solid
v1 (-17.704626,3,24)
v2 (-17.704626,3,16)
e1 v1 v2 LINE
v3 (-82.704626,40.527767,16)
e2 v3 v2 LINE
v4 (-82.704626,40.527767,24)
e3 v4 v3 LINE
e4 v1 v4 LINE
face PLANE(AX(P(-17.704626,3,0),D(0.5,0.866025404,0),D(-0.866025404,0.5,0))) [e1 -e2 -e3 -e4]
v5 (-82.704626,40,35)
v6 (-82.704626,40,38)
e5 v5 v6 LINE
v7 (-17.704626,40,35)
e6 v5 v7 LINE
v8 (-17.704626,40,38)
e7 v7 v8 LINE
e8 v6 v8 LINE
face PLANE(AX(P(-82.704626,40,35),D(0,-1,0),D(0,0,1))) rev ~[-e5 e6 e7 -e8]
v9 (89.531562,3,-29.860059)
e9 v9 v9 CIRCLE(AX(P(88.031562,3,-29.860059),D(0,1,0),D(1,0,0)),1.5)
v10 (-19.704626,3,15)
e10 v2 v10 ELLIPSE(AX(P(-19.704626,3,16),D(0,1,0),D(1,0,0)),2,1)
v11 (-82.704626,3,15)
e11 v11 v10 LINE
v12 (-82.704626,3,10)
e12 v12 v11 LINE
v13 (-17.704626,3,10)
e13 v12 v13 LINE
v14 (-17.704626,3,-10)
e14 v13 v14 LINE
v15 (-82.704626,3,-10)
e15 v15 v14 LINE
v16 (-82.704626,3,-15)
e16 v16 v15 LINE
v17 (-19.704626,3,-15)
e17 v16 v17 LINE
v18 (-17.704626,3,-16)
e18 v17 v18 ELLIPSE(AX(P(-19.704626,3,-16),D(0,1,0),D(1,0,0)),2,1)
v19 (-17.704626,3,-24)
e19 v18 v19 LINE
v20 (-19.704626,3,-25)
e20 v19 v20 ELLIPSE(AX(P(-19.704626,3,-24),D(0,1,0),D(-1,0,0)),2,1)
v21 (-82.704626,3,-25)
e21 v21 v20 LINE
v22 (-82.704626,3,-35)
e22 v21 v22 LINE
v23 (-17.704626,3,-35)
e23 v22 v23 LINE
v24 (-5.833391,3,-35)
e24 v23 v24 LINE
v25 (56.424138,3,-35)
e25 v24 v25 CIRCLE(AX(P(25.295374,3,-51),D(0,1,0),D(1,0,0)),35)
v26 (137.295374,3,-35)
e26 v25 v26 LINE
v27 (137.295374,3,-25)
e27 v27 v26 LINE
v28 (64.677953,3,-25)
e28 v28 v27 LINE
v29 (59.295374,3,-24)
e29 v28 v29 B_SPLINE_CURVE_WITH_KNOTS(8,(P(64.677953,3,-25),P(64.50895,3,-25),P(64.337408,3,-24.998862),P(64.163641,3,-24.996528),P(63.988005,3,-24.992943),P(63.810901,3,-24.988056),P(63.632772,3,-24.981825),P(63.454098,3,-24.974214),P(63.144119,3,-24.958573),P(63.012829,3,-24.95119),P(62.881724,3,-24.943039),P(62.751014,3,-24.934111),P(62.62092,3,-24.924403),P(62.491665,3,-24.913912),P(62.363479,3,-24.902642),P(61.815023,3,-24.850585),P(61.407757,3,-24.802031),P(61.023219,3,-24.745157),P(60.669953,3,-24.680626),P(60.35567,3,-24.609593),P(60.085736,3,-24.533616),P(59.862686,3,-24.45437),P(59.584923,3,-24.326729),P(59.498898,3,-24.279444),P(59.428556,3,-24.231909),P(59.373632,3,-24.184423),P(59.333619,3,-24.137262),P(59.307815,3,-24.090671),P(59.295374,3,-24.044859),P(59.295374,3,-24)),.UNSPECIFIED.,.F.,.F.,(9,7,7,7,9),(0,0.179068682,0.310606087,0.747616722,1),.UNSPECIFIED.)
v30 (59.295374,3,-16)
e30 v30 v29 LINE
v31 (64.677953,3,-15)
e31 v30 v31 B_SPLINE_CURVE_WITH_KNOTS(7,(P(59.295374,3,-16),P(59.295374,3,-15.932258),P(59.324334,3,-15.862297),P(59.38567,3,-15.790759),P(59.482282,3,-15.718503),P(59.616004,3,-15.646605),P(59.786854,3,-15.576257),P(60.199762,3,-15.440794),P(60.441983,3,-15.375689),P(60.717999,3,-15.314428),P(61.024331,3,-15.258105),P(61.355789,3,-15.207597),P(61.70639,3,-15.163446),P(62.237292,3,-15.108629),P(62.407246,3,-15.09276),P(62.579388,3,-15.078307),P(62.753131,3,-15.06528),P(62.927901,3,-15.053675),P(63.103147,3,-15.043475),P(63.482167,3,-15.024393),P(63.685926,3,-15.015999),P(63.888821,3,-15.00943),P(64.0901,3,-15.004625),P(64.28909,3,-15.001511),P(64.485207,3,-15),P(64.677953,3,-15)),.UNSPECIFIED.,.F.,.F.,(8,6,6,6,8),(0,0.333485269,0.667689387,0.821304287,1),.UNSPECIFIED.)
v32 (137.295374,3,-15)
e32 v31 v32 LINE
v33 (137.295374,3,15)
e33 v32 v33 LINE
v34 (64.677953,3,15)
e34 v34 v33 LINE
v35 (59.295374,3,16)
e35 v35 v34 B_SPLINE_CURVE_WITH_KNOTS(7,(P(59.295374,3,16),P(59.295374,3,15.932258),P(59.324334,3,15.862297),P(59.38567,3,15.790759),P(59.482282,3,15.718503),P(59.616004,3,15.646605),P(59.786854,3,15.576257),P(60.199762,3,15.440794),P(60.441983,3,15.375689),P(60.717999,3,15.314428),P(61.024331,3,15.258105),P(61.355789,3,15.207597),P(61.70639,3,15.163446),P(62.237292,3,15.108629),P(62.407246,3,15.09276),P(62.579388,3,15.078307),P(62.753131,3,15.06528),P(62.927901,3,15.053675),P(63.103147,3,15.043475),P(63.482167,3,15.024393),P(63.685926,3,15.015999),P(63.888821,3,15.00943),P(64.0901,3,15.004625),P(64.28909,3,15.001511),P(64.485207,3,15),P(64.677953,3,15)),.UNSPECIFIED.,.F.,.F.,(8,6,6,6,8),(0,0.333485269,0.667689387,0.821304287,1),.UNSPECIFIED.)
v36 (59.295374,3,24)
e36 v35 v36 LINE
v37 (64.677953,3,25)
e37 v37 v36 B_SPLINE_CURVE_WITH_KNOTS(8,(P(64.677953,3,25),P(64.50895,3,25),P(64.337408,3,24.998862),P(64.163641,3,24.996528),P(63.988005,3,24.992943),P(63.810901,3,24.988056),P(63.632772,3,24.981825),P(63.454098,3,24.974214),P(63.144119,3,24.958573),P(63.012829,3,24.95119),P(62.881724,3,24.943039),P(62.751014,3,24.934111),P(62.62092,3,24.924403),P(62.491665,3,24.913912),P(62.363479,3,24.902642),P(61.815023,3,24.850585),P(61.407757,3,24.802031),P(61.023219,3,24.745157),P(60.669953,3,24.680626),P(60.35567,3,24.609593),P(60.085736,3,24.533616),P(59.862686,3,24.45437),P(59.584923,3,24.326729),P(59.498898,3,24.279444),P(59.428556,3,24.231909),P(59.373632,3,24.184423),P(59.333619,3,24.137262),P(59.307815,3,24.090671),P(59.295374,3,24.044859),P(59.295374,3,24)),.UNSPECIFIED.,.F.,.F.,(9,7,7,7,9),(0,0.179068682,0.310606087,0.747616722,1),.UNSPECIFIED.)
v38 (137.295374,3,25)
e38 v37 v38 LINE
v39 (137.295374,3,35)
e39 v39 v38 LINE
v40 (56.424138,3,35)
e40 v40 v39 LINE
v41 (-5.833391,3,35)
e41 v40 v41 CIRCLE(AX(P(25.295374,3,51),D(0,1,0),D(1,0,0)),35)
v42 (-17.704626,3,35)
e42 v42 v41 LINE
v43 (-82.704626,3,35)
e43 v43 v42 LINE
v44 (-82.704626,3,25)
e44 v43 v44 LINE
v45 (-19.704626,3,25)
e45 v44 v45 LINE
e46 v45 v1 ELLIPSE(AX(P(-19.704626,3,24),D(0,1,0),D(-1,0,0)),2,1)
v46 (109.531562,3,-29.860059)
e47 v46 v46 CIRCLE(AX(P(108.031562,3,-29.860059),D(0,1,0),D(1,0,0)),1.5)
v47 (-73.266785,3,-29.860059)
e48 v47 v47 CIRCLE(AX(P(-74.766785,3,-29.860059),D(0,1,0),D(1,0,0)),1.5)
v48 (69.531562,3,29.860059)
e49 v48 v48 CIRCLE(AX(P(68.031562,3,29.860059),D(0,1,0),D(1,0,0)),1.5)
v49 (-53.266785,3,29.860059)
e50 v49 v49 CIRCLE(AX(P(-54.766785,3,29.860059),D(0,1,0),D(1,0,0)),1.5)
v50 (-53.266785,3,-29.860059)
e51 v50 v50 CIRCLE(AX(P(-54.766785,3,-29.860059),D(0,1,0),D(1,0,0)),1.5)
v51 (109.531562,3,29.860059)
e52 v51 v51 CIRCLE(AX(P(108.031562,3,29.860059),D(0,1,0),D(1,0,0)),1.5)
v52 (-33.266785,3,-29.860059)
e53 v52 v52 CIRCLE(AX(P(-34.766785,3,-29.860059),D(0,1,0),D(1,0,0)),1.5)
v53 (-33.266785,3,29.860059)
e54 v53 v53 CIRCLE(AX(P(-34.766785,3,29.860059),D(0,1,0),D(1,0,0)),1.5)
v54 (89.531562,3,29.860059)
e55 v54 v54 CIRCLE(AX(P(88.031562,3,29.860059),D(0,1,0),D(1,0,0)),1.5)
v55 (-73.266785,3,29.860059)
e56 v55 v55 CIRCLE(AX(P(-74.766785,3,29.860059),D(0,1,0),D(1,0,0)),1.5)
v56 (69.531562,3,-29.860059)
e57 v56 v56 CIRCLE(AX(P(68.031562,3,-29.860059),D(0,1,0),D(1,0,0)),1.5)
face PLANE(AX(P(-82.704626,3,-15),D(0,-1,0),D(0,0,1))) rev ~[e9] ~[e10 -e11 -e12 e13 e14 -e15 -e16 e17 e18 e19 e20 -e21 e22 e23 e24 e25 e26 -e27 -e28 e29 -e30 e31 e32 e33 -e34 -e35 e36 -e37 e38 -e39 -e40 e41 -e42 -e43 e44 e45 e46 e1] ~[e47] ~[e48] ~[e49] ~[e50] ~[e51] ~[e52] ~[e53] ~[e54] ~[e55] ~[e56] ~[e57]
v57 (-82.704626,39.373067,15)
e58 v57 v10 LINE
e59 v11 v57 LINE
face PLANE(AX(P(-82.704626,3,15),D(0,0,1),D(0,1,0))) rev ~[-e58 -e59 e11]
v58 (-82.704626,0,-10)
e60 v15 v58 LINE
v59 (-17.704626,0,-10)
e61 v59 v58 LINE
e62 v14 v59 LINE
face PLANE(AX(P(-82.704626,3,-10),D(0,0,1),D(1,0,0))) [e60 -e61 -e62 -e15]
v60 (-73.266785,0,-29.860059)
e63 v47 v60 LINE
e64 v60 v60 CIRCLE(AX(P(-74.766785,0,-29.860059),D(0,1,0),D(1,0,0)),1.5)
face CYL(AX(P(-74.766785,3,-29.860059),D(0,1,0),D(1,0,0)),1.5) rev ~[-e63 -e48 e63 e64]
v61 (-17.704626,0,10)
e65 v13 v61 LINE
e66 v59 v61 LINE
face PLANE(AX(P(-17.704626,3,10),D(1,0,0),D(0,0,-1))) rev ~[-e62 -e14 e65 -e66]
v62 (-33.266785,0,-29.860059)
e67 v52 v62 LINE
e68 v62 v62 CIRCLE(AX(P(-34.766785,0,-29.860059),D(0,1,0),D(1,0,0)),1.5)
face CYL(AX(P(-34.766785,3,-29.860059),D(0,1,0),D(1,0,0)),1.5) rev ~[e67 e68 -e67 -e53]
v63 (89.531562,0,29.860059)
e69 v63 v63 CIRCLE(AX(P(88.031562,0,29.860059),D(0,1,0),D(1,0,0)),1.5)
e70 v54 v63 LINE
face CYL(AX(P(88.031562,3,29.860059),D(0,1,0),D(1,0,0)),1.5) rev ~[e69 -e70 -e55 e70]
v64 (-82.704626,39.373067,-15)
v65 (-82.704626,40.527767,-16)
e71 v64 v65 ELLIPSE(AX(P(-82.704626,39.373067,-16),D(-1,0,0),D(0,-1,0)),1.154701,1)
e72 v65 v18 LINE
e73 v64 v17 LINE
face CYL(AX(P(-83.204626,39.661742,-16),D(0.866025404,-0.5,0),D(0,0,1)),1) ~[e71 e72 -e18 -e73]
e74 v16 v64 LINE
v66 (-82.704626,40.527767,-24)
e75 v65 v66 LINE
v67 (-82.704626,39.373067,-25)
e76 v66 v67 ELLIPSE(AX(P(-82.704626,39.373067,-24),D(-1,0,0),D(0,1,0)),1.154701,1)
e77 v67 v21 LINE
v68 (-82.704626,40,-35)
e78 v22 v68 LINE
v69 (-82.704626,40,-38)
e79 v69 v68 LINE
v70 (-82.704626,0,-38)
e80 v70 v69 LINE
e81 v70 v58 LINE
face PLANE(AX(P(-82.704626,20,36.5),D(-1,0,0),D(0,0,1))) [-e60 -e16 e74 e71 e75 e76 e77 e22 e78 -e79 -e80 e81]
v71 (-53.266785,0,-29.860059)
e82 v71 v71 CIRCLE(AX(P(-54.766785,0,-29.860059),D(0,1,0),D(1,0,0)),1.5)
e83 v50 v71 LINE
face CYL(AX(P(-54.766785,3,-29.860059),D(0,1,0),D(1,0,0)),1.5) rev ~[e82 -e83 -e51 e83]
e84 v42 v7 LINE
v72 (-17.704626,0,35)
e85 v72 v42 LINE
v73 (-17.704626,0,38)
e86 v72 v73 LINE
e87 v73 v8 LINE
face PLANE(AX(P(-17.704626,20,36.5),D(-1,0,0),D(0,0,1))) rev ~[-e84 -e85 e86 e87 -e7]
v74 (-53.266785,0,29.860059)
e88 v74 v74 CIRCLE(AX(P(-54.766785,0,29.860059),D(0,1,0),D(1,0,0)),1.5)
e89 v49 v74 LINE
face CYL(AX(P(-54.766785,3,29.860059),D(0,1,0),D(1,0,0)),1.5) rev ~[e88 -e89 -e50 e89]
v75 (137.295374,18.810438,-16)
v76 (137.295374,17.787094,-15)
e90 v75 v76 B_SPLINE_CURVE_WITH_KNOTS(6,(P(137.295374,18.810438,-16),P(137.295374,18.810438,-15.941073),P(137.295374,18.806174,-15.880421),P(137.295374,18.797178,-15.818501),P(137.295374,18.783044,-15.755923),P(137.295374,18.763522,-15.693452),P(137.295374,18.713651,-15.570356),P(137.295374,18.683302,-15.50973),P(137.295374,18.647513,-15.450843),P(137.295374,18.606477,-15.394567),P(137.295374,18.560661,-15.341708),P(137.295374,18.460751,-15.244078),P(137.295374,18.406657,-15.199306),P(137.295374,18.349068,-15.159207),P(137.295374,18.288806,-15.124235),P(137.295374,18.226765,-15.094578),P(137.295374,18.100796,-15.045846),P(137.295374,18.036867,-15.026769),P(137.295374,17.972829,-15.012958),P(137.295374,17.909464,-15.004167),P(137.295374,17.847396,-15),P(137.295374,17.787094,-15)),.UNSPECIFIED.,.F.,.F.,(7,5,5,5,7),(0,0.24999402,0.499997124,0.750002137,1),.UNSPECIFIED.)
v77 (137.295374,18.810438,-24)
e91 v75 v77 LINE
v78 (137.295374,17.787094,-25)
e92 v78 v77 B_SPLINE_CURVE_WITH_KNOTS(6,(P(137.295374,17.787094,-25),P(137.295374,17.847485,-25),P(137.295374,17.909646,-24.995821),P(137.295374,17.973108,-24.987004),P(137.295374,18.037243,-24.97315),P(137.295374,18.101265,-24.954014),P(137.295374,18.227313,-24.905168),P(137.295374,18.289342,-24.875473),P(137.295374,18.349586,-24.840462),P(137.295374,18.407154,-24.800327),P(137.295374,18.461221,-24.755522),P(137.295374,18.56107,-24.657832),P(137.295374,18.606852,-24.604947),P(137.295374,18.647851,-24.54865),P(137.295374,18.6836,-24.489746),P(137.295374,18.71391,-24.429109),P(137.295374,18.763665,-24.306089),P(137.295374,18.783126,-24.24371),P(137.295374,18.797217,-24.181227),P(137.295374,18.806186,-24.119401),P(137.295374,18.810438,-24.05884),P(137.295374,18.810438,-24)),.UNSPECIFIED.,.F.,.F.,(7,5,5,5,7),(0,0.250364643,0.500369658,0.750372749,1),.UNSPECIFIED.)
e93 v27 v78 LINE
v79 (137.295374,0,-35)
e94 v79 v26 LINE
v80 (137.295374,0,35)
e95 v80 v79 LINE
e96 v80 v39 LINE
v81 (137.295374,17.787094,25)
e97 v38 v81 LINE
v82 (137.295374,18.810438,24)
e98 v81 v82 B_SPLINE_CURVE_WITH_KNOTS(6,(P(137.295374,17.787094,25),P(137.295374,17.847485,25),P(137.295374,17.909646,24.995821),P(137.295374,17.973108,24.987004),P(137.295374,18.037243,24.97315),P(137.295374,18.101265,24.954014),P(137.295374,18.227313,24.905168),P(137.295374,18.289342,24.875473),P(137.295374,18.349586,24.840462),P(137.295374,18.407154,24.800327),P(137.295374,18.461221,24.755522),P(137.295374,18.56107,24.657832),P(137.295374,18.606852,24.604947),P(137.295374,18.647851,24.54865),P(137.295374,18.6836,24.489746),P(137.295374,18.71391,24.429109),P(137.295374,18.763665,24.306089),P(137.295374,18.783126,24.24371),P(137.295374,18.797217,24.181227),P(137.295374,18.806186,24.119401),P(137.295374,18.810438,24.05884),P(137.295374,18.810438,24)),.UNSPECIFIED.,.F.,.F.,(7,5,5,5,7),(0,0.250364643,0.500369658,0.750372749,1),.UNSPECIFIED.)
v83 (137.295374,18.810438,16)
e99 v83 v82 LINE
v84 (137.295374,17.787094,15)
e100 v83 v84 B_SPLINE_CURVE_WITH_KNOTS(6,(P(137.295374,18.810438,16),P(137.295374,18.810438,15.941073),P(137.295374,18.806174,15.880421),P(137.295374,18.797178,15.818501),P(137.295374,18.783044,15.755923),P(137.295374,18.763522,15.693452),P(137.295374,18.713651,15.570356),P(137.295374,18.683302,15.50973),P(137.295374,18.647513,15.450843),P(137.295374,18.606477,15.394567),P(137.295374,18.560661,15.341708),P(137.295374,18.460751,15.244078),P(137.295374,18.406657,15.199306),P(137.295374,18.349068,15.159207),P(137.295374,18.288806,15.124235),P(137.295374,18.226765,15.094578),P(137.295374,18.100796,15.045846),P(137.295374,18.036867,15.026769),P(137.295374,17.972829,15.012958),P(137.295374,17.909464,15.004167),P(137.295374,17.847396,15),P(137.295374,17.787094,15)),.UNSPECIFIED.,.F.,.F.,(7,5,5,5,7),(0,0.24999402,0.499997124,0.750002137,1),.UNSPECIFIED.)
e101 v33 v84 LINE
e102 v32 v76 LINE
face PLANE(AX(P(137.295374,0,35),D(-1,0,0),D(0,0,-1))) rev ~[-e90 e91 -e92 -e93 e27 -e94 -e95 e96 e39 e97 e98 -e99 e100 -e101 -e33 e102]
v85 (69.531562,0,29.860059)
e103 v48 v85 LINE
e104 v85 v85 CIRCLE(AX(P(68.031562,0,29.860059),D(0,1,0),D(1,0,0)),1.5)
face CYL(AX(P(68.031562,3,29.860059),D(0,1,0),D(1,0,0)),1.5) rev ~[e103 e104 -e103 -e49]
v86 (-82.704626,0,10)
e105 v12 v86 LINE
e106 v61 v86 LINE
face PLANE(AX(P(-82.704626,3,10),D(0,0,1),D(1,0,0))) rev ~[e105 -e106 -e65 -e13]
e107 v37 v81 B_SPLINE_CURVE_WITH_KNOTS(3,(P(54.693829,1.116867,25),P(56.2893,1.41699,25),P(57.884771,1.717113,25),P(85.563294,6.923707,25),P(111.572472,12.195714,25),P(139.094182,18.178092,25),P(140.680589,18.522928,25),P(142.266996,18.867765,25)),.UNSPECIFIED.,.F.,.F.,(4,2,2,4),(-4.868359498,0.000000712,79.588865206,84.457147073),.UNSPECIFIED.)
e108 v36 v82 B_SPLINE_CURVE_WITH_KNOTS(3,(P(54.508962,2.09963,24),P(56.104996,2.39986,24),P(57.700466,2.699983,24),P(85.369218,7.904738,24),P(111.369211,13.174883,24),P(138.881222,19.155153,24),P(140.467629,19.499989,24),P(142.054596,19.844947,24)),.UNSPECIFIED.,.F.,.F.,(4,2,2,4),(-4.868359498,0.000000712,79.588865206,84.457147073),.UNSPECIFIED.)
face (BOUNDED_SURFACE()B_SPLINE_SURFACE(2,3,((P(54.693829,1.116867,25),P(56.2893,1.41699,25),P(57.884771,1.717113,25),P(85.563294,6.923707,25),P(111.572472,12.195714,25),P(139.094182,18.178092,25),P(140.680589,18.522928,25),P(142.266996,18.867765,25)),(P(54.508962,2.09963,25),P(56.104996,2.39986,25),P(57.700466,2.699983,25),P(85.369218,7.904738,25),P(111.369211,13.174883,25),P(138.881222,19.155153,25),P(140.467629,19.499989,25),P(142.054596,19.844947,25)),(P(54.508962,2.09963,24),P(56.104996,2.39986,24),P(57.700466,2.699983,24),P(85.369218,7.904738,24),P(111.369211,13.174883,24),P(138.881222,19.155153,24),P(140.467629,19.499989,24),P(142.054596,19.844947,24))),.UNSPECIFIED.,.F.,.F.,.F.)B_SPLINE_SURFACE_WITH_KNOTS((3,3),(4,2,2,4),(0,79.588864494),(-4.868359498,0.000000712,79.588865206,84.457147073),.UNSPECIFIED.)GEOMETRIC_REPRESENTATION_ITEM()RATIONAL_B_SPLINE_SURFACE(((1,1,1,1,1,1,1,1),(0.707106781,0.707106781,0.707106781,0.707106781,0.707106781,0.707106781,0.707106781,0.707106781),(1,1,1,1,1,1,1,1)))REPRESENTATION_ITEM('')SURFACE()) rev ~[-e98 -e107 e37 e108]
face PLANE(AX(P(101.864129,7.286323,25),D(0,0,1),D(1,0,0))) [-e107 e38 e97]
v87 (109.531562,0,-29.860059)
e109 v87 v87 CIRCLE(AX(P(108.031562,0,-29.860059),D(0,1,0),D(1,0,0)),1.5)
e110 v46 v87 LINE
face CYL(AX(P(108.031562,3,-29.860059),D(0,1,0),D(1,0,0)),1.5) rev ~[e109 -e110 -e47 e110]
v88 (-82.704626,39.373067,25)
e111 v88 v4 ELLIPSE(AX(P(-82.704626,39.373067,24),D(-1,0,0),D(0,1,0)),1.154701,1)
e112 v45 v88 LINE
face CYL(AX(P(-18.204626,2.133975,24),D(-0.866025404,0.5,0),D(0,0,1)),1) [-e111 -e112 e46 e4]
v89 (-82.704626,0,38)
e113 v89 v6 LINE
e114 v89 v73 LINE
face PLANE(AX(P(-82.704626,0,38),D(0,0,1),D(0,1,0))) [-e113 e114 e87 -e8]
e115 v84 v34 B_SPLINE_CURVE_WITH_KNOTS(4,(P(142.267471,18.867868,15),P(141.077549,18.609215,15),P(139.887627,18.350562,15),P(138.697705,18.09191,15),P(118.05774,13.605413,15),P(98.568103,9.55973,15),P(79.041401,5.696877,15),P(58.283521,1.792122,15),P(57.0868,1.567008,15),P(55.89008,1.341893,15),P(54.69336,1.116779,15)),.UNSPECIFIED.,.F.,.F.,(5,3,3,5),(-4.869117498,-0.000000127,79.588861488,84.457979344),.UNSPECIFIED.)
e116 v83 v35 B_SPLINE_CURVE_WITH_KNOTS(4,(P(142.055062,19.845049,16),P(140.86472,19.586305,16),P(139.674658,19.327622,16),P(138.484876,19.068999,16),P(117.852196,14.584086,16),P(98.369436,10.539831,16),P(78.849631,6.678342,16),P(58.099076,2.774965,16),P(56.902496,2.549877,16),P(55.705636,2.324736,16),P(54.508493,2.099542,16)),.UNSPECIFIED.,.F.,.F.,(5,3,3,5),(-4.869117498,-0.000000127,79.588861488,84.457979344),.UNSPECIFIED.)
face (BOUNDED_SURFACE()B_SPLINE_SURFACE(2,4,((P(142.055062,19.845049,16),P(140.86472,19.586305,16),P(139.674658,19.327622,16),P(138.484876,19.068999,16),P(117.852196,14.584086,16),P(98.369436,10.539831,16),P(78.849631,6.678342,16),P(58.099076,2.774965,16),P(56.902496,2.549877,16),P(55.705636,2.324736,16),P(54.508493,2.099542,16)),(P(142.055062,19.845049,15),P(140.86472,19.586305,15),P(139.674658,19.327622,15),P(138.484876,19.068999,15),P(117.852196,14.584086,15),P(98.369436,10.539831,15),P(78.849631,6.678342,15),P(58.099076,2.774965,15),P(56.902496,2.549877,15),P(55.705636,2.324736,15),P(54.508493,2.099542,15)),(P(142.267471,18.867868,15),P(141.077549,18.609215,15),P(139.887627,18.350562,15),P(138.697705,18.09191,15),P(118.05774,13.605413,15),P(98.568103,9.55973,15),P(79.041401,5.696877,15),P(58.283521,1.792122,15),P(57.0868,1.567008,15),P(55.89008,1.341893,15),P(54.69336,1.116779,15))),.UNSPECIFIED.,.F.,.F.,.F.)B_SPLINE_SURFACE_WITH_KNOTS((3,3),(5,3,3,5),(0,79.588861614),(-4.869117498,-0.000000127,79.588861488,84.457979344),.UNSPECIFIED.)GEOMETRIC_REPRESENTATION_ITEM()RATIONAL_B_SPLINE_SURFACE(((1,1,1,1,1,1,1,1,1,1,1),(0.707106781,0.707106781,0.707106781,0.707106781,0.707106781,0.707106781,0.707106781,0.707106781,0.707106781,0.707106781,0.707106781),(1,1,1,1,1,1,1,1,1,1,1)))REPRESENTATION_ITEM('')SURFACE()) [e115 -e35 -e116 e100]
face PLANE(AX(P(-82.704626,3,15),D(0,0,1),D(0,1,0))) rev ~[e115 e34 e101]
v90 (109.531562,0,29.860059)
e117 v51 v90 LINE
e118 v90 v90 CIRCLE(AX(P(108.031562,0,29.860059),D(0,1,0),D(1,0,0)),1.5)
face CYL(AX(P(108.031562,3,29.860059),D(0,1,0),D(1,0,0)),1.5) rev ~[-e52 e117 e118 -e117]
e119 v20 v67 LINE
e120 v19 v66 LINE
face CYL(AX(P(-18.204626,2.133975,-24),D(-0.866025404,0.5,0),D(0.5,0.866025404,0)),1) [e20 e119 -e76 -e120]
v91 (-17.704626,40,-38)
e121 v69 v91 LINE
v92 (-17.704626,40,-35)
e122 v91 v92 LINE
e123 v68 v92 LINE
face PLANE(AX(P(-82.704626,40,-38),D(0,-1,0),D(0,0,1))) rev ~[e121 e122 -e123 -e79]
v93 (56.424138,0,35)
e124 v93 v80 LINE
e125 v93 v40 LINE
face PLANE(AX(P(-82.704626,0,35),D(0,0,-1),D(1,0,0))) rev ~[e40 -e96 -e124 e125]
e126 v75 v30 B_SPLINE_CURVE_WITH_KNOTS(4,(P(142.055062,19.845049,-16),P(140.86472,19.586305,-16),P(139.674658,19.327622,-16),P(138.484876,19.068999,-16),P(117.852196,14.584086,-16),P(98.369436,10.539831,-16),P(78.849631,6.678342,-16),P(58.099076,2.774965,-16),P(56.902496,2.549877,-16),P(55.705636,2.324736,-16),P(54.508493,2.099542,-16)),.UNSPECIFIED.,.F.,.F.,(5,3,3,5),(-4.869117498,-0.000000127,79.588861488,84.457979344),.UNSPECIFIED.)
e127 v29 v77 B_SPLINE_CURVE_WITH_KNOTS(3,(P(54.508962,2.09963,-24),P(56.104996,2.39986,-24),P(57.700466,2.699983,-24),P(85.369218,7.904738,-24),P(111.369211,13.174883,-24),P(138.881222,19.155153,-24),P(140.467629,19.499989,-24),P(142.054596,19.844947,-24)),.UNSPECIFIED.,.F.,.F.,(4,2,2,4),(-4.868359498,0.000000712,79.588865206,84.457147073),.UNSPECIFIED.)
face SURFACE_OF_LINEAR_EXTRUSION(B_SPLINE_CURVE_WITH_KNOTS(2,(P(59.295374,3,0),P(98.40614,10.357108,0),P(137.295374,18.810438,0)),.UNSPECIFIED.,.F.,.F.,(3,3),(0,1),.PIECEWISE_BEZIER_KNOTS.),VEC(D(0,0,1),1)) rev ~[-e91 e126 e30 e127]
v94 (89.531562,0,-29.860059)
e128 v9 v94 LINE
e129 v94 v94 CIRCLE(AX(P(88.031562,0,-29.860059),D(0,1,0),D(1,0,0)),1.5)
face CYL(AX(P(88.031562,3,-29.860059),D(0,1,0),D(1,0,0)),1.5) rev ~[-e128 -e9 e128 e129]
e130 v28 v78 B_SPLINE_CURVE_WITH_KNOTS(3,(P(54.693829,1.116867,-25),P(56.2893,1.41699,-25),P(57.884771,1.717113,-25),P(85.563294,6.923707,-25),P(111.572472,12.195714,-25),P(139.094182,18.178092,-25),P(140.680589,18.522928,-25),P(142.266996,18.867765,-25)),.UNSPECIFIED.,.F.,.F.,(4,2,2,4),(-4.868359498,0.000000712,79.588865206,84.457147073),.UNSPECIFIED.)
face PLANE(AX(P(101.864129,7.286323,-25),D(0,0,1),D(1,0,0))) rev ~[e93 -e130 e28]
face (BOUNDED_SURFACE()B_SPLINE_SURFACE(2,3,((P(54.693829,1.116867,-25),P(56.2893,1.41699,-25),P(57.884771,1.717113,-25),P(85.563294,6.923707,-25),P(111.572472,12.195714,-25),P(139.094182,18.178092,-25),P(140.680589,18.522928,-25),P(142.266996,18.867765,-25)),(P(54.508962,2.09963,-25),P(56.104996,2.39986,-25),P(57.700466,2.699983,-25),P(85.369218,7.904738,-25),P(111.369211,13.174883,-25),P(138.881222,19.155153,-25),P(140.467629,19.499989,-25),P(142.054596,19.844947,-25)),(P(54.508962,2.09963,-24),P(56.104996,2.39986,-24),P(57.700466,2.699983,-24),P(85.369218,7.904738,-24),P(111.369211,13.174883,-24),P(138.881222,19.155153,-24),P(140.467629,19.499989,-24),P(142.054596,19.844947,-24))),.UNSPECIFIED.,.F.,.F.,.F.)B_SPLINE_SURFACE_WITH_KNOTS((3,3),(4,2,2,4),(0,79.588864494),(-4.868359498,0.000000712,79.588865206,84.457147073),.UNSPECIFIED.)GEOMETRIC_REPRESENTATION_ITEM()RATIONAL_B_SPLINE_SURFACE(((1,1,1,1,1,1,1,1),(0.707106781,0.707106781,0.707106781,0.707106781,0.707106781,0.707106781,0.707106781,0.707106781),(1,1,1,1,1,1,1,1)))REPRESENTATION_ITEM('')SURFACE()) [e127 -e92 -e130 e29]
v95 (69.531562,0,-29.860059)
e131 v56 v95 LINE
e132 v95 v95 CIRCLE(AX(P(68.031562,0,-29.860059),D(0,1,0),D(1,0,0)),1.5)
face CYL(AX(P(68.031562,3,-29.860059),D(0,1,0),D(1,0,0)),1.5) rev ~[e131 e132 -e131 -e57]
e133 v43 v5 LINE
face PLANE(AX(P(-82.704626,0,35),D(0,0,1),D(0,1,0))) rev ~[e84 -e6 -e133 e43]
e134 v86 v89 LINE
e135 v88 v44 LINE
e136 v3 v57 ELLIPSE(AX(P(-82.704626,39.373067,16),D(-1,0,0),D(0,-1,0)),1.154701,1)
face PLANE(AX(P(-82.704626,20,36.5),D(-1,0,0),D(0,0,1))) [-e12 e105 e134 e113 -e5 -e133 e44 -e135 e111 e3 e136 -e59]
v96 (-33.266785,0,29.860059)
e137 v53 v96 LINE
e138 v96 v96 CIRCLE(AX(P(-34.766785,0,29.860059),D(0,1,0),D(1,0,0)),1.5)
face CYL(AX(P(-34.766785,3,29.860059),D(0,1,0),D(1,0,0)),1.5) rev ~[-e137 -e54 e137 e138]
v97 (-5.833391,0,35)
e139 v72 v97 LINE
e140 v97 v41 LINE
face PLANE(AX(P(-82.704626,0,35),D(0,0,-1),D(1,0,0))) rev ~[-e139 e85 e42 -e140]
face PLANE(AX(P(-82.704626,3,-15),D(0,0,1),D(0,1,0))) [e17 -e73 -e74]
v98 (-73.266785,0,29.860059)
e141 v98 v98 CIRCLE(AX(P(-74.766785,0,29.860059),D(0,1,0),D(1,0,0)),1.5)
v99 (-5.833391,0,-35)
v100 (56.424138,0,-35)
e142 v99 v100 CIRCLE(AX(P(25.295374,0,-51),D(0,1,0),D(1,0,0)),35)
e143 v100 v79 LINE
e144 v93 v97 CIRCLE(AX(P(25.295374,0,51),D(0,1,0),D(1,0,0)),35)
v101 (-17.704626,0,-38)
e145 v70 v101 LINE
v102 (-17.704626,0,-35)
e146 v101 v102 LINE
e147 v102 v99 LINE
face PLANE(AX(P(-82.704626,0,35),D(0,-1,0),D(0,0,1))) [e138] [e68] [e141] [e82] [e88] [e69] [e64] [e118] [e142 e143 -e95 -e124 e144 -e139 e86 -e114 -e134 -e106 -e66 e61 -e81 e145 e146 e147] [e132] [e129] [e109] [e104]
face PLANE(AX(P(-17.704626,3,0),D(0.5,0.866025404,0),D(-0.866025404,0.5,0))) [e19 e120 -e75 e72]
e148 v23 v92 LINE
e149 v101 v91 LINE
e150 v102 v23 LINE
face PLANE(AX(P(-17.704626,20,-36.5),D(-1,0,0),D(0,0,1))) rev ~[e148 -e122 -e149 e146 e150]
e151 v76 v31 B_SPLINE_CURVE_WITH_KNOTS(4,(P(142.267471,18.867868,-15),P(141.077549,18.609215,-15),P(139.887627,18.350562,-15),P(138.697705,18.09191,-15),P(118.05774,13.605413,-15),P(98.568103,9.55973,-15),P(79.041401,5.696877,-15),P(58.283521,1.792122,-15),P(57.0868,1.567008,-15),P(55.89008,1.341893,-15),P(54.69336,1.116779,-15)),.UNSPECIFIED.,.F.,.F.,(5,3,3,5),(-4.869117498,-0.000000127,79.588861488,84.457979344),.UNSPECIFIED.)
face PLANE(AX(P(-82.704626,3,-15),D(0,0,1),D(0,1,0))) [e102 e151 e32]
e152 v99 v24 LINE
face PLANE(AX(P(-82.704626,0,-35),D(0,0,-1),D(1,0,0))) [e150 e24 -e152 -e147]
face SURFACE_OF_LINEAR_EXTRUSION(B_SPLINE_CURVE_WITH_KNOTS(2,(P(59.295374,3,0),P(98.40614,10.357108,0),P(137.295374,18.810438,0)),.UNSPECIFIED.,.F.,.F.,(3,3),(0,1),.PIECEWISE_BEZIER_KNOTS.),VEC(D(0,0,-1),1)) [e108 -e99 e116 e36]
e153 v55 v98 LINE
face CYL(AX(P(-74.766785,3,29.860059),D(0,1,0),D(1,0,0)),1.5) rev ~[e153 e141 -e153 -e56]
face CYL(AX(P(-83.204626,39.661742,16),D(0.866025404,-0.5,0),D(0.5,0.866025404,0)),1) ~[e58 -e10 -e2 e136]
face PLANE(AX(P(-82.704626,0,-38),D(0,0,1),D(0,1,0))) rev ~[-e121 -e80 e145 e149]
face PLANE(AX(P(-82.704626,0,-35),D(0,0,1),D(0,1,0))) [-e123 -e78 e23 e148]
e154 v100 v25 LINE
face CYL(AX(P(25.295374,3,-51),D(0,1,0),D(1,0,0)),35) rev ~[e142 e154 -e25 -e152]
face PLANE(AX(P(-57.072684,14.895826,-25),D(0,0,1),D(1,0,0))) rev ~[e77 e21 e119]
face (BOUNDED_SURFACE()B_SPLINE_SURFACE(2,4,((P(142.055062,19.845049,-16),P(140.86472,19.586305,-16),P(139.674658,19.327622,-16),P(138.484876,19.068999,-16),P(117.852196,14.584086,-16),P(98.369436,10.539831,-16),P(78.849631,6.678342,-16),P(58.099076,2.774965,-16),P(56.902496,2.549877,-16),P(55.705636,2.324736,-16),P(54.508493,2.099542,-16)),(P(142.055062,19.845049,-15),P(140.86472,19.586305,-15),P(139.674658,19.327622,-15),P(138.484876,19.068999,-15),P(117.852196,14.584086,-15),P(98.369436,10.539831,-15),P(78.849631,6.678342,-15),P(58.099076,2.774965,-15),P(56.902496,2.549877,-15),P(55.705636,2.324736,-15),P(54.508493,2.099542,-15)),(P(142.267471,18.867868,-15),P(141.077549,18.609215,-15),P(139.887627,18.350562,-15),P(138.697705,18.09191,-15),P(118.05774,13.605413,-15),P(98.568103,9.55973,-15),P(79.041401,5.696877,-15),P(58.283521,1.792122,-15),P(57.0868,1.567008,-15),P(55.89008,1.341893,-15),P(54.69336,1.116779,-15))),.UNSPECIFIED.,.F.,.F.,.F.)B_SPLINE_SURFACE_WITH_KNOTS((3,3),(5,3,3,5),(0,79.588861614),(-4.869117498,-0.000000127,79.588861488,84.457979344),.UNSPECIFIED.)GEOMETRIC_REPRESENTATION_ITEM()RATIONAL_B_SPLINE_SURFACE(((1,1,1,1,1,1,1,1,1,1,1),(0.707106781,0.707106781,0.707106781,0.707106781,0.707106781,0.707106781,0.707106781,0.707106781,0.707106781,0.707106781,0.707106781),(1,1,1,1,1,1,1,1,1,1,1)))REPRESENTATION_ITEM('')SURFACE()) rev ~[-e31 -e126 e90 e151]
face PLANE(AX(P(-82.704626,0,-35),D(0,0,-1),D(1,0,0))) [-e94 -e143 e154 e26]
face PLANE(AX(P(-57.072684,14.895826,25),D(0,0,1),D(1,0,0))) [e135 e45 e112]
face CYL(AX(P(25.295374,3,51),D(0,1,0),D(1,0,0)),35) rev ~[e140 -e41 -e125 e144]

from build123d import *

# Parameters (mm, degrees)
SKETCH_1_W           = 220
SKETCH_1_H           = 70
EXTRUDE_1_DEPTH      = 3
EXTRUDE_2_DEPTH      = 25
EXTRUDE_2_DEPTH_BACK = 25
SKETCH_6_W           = 30
SKETCH_6_H           = 37.527767497
CUT_EXTRUDE_4_DEPTH  = 221.0000001
SKETCH_7_R           = 35
CUT_EXTRUDE_5_DEPTH  = 4
SKETCH_8_W           = 3
SKETCH_8_H           = 40
EXTRUDE_3_DEPTH      = 65
SKETCH_9_R           = 1.5
CUT_EXTRUDE_6_DEPTH  = 4
FILLET_5_R           = 1
SKETCH_10_W          = 65
SKETCH_10_H          = 20
CUT_EXTRUDE_7_DEPTH  = 4.0000001


with BuildPart() as part:
    # 草图1 → 凸台-拉伸1 (new body)
    with BuildSketch(Plane(origin=(0, 0, 0), x_dir=(1, 0, 0), z_dir=(0, 1, 0))):
        with Locations((27.295373665, 0)):
            Rectangle(SKETCH_1_W, SKETCH_1_H)
    extrude(amount=EXTRUDE_1_DEPTH)

    # 草图2 → 凸台-拉伸2 (add, two sides)
    with BuildSketch(Plane.XY) as extrude_2_sk:
        Polygon((-82.704626335, 40.527767497), (-82.704626335, 3), (-17.704626335, 3), align=None)
        with BuildLine():
            Line((137.295373665, 3), (137.295373665, 18.810437945))
            add(Edge.make_bspline(
                [(59.295373665, 3), (98.406140267, 10.357107668), (137.295373665, 18.810437945)],
                knots=[0, 0, 0, 1, 1, 1], degree=2))
            Line((59.295373665, 3), (137.295373665, 3))
        make_face()
    extrude(amount=EXTRUDE_2_DEPTH)
    extrude(extrude_2_sk.sketch, amount=-EXTRUDE_2_DEPTH_BACK)

    # 草图6 → 切除-拉伸4 (cut, through all)
    with BuildSketch(Plane.ZY.offset(82.704626335)):
        with Locations((0, 21.763883748)):
            Rectangle(SKETCH_6_W, SKETCH_6_H)
    extrude(amount=-CUT_EXTRUDE_4_DEPTH, mode=Mode.SUBTRACT)

    # 草图7 → 切除-拉伸5 (cut, through all)
    with BuildSketch(Plane(origin=(0, 3, 0), x_dir=(1, 0, 0), z_dir=(0, 1, 0))):
        with Locations((25.295373665, 51)):
            Circle(SKETCH_7_R)
        with Locations((25.295373665, -51)):
            Circle(SKETCH_7_R)
    extrude(amount=-CUT_EXTRUDE_5_DEPTH, mode=Mode.SUBTRACT)

    # 草图8 → 凸台-拉伸3 (add)
    with BuildSketch(Plane.ZY.offset(82.704626335)):
        with Locations((36.5, 20)):
            Rectangle(SKETCH_8_W, SKETCH_8_H)
        with Locations((-36.5, 20)):
            Rectangle(SKETCH_8_W, SKETCH_8_H)
    extrude(amount=-EXTRUDE_3_DEPTH)

    # 草图9 → 切除-拉伸6 (cut, through all)
    with BuildSketch(Plane(origin=(0, 3, 0), x_dir=(1, 0, 0), z_dir=(0, 1, 0))):
        with Locations((-74.766784803, 29.860059225)):
            Circle(SKETCH_9_R)
        with Locations((-54.766784803, 29.860059225)):
            Circle(SKETCH_9_R)
        with Locations((-34.766784803, 29.860059225)):
            Circle(SKETCH_9_R)
        with Locations((-34.766784803, -29.860059225)):
            Circle(SKETCH_9_R)
        with Locations((-54.766784803, -29.860059225)):
            Circle(SKETCH_9_R)
        with Locations((-74.766784803, -29.860059225)):
            Circle(SKETCH_9_R)
        with Locations((68.031562246, 29.860059225)):
            Circle(SKETCH_9_R)
        with Locations((88.031562246, 29.860059225)):
            Circle(SKETCH_9_R)
        with Locations((108.031562246, 29.860059225)):
            Circle(SKETCH_9_R)
        with Locations((108.031562246, -29.860059225)):
            Circle(SKETCH_9_R)
        with Locations((88.031562246, -29.860059225)):
            Circle(SKETCH_9_R)
        with Locations((68.031562246, -29.860059225)):
            Circle(SKETCH_9_R)
    extrude(amount=-CUT_EXTRUDE_6_DEPTH, mode=Mode.SUBTRACT)

    # 圆角5
    fillet_5_edges = [part.edges().sort_by_distance(p)[0] for p in [
        (98.35091757, 10.631195874, -25),
        (98.35091757, 10.631195874, 25),
        (-50.204626335, 21.763883749, -25),
        (-50.204626335, 21.763883749, 25),
        (-50.204626335, 21.763883749, -15),
        (-50.204626335, 21.763883749, 15),
        (98.35091757, 10.631195874, 15),
        (98.35091757, 10.631195874, -15),
    ]]
    fillet(fillet_5_edges, radius=FILLET_5_R)

    # 草图10 → 切除-拉伸7 (cut, through all)
    with BuildSketch(Plane(origin=(0, 3, 0), x_dir=(1, 0, 0), z_dir=(0, 1, 0))):
        with Locations((-50.204626335, 0)):
            Rectangle(SKETCH_10_W, SKETCH_10_H)
    extrude(amount=-CUT_EXTRUDE_7_DEPTH, mode=Mode.SUBTRACT)


solid = part.part
